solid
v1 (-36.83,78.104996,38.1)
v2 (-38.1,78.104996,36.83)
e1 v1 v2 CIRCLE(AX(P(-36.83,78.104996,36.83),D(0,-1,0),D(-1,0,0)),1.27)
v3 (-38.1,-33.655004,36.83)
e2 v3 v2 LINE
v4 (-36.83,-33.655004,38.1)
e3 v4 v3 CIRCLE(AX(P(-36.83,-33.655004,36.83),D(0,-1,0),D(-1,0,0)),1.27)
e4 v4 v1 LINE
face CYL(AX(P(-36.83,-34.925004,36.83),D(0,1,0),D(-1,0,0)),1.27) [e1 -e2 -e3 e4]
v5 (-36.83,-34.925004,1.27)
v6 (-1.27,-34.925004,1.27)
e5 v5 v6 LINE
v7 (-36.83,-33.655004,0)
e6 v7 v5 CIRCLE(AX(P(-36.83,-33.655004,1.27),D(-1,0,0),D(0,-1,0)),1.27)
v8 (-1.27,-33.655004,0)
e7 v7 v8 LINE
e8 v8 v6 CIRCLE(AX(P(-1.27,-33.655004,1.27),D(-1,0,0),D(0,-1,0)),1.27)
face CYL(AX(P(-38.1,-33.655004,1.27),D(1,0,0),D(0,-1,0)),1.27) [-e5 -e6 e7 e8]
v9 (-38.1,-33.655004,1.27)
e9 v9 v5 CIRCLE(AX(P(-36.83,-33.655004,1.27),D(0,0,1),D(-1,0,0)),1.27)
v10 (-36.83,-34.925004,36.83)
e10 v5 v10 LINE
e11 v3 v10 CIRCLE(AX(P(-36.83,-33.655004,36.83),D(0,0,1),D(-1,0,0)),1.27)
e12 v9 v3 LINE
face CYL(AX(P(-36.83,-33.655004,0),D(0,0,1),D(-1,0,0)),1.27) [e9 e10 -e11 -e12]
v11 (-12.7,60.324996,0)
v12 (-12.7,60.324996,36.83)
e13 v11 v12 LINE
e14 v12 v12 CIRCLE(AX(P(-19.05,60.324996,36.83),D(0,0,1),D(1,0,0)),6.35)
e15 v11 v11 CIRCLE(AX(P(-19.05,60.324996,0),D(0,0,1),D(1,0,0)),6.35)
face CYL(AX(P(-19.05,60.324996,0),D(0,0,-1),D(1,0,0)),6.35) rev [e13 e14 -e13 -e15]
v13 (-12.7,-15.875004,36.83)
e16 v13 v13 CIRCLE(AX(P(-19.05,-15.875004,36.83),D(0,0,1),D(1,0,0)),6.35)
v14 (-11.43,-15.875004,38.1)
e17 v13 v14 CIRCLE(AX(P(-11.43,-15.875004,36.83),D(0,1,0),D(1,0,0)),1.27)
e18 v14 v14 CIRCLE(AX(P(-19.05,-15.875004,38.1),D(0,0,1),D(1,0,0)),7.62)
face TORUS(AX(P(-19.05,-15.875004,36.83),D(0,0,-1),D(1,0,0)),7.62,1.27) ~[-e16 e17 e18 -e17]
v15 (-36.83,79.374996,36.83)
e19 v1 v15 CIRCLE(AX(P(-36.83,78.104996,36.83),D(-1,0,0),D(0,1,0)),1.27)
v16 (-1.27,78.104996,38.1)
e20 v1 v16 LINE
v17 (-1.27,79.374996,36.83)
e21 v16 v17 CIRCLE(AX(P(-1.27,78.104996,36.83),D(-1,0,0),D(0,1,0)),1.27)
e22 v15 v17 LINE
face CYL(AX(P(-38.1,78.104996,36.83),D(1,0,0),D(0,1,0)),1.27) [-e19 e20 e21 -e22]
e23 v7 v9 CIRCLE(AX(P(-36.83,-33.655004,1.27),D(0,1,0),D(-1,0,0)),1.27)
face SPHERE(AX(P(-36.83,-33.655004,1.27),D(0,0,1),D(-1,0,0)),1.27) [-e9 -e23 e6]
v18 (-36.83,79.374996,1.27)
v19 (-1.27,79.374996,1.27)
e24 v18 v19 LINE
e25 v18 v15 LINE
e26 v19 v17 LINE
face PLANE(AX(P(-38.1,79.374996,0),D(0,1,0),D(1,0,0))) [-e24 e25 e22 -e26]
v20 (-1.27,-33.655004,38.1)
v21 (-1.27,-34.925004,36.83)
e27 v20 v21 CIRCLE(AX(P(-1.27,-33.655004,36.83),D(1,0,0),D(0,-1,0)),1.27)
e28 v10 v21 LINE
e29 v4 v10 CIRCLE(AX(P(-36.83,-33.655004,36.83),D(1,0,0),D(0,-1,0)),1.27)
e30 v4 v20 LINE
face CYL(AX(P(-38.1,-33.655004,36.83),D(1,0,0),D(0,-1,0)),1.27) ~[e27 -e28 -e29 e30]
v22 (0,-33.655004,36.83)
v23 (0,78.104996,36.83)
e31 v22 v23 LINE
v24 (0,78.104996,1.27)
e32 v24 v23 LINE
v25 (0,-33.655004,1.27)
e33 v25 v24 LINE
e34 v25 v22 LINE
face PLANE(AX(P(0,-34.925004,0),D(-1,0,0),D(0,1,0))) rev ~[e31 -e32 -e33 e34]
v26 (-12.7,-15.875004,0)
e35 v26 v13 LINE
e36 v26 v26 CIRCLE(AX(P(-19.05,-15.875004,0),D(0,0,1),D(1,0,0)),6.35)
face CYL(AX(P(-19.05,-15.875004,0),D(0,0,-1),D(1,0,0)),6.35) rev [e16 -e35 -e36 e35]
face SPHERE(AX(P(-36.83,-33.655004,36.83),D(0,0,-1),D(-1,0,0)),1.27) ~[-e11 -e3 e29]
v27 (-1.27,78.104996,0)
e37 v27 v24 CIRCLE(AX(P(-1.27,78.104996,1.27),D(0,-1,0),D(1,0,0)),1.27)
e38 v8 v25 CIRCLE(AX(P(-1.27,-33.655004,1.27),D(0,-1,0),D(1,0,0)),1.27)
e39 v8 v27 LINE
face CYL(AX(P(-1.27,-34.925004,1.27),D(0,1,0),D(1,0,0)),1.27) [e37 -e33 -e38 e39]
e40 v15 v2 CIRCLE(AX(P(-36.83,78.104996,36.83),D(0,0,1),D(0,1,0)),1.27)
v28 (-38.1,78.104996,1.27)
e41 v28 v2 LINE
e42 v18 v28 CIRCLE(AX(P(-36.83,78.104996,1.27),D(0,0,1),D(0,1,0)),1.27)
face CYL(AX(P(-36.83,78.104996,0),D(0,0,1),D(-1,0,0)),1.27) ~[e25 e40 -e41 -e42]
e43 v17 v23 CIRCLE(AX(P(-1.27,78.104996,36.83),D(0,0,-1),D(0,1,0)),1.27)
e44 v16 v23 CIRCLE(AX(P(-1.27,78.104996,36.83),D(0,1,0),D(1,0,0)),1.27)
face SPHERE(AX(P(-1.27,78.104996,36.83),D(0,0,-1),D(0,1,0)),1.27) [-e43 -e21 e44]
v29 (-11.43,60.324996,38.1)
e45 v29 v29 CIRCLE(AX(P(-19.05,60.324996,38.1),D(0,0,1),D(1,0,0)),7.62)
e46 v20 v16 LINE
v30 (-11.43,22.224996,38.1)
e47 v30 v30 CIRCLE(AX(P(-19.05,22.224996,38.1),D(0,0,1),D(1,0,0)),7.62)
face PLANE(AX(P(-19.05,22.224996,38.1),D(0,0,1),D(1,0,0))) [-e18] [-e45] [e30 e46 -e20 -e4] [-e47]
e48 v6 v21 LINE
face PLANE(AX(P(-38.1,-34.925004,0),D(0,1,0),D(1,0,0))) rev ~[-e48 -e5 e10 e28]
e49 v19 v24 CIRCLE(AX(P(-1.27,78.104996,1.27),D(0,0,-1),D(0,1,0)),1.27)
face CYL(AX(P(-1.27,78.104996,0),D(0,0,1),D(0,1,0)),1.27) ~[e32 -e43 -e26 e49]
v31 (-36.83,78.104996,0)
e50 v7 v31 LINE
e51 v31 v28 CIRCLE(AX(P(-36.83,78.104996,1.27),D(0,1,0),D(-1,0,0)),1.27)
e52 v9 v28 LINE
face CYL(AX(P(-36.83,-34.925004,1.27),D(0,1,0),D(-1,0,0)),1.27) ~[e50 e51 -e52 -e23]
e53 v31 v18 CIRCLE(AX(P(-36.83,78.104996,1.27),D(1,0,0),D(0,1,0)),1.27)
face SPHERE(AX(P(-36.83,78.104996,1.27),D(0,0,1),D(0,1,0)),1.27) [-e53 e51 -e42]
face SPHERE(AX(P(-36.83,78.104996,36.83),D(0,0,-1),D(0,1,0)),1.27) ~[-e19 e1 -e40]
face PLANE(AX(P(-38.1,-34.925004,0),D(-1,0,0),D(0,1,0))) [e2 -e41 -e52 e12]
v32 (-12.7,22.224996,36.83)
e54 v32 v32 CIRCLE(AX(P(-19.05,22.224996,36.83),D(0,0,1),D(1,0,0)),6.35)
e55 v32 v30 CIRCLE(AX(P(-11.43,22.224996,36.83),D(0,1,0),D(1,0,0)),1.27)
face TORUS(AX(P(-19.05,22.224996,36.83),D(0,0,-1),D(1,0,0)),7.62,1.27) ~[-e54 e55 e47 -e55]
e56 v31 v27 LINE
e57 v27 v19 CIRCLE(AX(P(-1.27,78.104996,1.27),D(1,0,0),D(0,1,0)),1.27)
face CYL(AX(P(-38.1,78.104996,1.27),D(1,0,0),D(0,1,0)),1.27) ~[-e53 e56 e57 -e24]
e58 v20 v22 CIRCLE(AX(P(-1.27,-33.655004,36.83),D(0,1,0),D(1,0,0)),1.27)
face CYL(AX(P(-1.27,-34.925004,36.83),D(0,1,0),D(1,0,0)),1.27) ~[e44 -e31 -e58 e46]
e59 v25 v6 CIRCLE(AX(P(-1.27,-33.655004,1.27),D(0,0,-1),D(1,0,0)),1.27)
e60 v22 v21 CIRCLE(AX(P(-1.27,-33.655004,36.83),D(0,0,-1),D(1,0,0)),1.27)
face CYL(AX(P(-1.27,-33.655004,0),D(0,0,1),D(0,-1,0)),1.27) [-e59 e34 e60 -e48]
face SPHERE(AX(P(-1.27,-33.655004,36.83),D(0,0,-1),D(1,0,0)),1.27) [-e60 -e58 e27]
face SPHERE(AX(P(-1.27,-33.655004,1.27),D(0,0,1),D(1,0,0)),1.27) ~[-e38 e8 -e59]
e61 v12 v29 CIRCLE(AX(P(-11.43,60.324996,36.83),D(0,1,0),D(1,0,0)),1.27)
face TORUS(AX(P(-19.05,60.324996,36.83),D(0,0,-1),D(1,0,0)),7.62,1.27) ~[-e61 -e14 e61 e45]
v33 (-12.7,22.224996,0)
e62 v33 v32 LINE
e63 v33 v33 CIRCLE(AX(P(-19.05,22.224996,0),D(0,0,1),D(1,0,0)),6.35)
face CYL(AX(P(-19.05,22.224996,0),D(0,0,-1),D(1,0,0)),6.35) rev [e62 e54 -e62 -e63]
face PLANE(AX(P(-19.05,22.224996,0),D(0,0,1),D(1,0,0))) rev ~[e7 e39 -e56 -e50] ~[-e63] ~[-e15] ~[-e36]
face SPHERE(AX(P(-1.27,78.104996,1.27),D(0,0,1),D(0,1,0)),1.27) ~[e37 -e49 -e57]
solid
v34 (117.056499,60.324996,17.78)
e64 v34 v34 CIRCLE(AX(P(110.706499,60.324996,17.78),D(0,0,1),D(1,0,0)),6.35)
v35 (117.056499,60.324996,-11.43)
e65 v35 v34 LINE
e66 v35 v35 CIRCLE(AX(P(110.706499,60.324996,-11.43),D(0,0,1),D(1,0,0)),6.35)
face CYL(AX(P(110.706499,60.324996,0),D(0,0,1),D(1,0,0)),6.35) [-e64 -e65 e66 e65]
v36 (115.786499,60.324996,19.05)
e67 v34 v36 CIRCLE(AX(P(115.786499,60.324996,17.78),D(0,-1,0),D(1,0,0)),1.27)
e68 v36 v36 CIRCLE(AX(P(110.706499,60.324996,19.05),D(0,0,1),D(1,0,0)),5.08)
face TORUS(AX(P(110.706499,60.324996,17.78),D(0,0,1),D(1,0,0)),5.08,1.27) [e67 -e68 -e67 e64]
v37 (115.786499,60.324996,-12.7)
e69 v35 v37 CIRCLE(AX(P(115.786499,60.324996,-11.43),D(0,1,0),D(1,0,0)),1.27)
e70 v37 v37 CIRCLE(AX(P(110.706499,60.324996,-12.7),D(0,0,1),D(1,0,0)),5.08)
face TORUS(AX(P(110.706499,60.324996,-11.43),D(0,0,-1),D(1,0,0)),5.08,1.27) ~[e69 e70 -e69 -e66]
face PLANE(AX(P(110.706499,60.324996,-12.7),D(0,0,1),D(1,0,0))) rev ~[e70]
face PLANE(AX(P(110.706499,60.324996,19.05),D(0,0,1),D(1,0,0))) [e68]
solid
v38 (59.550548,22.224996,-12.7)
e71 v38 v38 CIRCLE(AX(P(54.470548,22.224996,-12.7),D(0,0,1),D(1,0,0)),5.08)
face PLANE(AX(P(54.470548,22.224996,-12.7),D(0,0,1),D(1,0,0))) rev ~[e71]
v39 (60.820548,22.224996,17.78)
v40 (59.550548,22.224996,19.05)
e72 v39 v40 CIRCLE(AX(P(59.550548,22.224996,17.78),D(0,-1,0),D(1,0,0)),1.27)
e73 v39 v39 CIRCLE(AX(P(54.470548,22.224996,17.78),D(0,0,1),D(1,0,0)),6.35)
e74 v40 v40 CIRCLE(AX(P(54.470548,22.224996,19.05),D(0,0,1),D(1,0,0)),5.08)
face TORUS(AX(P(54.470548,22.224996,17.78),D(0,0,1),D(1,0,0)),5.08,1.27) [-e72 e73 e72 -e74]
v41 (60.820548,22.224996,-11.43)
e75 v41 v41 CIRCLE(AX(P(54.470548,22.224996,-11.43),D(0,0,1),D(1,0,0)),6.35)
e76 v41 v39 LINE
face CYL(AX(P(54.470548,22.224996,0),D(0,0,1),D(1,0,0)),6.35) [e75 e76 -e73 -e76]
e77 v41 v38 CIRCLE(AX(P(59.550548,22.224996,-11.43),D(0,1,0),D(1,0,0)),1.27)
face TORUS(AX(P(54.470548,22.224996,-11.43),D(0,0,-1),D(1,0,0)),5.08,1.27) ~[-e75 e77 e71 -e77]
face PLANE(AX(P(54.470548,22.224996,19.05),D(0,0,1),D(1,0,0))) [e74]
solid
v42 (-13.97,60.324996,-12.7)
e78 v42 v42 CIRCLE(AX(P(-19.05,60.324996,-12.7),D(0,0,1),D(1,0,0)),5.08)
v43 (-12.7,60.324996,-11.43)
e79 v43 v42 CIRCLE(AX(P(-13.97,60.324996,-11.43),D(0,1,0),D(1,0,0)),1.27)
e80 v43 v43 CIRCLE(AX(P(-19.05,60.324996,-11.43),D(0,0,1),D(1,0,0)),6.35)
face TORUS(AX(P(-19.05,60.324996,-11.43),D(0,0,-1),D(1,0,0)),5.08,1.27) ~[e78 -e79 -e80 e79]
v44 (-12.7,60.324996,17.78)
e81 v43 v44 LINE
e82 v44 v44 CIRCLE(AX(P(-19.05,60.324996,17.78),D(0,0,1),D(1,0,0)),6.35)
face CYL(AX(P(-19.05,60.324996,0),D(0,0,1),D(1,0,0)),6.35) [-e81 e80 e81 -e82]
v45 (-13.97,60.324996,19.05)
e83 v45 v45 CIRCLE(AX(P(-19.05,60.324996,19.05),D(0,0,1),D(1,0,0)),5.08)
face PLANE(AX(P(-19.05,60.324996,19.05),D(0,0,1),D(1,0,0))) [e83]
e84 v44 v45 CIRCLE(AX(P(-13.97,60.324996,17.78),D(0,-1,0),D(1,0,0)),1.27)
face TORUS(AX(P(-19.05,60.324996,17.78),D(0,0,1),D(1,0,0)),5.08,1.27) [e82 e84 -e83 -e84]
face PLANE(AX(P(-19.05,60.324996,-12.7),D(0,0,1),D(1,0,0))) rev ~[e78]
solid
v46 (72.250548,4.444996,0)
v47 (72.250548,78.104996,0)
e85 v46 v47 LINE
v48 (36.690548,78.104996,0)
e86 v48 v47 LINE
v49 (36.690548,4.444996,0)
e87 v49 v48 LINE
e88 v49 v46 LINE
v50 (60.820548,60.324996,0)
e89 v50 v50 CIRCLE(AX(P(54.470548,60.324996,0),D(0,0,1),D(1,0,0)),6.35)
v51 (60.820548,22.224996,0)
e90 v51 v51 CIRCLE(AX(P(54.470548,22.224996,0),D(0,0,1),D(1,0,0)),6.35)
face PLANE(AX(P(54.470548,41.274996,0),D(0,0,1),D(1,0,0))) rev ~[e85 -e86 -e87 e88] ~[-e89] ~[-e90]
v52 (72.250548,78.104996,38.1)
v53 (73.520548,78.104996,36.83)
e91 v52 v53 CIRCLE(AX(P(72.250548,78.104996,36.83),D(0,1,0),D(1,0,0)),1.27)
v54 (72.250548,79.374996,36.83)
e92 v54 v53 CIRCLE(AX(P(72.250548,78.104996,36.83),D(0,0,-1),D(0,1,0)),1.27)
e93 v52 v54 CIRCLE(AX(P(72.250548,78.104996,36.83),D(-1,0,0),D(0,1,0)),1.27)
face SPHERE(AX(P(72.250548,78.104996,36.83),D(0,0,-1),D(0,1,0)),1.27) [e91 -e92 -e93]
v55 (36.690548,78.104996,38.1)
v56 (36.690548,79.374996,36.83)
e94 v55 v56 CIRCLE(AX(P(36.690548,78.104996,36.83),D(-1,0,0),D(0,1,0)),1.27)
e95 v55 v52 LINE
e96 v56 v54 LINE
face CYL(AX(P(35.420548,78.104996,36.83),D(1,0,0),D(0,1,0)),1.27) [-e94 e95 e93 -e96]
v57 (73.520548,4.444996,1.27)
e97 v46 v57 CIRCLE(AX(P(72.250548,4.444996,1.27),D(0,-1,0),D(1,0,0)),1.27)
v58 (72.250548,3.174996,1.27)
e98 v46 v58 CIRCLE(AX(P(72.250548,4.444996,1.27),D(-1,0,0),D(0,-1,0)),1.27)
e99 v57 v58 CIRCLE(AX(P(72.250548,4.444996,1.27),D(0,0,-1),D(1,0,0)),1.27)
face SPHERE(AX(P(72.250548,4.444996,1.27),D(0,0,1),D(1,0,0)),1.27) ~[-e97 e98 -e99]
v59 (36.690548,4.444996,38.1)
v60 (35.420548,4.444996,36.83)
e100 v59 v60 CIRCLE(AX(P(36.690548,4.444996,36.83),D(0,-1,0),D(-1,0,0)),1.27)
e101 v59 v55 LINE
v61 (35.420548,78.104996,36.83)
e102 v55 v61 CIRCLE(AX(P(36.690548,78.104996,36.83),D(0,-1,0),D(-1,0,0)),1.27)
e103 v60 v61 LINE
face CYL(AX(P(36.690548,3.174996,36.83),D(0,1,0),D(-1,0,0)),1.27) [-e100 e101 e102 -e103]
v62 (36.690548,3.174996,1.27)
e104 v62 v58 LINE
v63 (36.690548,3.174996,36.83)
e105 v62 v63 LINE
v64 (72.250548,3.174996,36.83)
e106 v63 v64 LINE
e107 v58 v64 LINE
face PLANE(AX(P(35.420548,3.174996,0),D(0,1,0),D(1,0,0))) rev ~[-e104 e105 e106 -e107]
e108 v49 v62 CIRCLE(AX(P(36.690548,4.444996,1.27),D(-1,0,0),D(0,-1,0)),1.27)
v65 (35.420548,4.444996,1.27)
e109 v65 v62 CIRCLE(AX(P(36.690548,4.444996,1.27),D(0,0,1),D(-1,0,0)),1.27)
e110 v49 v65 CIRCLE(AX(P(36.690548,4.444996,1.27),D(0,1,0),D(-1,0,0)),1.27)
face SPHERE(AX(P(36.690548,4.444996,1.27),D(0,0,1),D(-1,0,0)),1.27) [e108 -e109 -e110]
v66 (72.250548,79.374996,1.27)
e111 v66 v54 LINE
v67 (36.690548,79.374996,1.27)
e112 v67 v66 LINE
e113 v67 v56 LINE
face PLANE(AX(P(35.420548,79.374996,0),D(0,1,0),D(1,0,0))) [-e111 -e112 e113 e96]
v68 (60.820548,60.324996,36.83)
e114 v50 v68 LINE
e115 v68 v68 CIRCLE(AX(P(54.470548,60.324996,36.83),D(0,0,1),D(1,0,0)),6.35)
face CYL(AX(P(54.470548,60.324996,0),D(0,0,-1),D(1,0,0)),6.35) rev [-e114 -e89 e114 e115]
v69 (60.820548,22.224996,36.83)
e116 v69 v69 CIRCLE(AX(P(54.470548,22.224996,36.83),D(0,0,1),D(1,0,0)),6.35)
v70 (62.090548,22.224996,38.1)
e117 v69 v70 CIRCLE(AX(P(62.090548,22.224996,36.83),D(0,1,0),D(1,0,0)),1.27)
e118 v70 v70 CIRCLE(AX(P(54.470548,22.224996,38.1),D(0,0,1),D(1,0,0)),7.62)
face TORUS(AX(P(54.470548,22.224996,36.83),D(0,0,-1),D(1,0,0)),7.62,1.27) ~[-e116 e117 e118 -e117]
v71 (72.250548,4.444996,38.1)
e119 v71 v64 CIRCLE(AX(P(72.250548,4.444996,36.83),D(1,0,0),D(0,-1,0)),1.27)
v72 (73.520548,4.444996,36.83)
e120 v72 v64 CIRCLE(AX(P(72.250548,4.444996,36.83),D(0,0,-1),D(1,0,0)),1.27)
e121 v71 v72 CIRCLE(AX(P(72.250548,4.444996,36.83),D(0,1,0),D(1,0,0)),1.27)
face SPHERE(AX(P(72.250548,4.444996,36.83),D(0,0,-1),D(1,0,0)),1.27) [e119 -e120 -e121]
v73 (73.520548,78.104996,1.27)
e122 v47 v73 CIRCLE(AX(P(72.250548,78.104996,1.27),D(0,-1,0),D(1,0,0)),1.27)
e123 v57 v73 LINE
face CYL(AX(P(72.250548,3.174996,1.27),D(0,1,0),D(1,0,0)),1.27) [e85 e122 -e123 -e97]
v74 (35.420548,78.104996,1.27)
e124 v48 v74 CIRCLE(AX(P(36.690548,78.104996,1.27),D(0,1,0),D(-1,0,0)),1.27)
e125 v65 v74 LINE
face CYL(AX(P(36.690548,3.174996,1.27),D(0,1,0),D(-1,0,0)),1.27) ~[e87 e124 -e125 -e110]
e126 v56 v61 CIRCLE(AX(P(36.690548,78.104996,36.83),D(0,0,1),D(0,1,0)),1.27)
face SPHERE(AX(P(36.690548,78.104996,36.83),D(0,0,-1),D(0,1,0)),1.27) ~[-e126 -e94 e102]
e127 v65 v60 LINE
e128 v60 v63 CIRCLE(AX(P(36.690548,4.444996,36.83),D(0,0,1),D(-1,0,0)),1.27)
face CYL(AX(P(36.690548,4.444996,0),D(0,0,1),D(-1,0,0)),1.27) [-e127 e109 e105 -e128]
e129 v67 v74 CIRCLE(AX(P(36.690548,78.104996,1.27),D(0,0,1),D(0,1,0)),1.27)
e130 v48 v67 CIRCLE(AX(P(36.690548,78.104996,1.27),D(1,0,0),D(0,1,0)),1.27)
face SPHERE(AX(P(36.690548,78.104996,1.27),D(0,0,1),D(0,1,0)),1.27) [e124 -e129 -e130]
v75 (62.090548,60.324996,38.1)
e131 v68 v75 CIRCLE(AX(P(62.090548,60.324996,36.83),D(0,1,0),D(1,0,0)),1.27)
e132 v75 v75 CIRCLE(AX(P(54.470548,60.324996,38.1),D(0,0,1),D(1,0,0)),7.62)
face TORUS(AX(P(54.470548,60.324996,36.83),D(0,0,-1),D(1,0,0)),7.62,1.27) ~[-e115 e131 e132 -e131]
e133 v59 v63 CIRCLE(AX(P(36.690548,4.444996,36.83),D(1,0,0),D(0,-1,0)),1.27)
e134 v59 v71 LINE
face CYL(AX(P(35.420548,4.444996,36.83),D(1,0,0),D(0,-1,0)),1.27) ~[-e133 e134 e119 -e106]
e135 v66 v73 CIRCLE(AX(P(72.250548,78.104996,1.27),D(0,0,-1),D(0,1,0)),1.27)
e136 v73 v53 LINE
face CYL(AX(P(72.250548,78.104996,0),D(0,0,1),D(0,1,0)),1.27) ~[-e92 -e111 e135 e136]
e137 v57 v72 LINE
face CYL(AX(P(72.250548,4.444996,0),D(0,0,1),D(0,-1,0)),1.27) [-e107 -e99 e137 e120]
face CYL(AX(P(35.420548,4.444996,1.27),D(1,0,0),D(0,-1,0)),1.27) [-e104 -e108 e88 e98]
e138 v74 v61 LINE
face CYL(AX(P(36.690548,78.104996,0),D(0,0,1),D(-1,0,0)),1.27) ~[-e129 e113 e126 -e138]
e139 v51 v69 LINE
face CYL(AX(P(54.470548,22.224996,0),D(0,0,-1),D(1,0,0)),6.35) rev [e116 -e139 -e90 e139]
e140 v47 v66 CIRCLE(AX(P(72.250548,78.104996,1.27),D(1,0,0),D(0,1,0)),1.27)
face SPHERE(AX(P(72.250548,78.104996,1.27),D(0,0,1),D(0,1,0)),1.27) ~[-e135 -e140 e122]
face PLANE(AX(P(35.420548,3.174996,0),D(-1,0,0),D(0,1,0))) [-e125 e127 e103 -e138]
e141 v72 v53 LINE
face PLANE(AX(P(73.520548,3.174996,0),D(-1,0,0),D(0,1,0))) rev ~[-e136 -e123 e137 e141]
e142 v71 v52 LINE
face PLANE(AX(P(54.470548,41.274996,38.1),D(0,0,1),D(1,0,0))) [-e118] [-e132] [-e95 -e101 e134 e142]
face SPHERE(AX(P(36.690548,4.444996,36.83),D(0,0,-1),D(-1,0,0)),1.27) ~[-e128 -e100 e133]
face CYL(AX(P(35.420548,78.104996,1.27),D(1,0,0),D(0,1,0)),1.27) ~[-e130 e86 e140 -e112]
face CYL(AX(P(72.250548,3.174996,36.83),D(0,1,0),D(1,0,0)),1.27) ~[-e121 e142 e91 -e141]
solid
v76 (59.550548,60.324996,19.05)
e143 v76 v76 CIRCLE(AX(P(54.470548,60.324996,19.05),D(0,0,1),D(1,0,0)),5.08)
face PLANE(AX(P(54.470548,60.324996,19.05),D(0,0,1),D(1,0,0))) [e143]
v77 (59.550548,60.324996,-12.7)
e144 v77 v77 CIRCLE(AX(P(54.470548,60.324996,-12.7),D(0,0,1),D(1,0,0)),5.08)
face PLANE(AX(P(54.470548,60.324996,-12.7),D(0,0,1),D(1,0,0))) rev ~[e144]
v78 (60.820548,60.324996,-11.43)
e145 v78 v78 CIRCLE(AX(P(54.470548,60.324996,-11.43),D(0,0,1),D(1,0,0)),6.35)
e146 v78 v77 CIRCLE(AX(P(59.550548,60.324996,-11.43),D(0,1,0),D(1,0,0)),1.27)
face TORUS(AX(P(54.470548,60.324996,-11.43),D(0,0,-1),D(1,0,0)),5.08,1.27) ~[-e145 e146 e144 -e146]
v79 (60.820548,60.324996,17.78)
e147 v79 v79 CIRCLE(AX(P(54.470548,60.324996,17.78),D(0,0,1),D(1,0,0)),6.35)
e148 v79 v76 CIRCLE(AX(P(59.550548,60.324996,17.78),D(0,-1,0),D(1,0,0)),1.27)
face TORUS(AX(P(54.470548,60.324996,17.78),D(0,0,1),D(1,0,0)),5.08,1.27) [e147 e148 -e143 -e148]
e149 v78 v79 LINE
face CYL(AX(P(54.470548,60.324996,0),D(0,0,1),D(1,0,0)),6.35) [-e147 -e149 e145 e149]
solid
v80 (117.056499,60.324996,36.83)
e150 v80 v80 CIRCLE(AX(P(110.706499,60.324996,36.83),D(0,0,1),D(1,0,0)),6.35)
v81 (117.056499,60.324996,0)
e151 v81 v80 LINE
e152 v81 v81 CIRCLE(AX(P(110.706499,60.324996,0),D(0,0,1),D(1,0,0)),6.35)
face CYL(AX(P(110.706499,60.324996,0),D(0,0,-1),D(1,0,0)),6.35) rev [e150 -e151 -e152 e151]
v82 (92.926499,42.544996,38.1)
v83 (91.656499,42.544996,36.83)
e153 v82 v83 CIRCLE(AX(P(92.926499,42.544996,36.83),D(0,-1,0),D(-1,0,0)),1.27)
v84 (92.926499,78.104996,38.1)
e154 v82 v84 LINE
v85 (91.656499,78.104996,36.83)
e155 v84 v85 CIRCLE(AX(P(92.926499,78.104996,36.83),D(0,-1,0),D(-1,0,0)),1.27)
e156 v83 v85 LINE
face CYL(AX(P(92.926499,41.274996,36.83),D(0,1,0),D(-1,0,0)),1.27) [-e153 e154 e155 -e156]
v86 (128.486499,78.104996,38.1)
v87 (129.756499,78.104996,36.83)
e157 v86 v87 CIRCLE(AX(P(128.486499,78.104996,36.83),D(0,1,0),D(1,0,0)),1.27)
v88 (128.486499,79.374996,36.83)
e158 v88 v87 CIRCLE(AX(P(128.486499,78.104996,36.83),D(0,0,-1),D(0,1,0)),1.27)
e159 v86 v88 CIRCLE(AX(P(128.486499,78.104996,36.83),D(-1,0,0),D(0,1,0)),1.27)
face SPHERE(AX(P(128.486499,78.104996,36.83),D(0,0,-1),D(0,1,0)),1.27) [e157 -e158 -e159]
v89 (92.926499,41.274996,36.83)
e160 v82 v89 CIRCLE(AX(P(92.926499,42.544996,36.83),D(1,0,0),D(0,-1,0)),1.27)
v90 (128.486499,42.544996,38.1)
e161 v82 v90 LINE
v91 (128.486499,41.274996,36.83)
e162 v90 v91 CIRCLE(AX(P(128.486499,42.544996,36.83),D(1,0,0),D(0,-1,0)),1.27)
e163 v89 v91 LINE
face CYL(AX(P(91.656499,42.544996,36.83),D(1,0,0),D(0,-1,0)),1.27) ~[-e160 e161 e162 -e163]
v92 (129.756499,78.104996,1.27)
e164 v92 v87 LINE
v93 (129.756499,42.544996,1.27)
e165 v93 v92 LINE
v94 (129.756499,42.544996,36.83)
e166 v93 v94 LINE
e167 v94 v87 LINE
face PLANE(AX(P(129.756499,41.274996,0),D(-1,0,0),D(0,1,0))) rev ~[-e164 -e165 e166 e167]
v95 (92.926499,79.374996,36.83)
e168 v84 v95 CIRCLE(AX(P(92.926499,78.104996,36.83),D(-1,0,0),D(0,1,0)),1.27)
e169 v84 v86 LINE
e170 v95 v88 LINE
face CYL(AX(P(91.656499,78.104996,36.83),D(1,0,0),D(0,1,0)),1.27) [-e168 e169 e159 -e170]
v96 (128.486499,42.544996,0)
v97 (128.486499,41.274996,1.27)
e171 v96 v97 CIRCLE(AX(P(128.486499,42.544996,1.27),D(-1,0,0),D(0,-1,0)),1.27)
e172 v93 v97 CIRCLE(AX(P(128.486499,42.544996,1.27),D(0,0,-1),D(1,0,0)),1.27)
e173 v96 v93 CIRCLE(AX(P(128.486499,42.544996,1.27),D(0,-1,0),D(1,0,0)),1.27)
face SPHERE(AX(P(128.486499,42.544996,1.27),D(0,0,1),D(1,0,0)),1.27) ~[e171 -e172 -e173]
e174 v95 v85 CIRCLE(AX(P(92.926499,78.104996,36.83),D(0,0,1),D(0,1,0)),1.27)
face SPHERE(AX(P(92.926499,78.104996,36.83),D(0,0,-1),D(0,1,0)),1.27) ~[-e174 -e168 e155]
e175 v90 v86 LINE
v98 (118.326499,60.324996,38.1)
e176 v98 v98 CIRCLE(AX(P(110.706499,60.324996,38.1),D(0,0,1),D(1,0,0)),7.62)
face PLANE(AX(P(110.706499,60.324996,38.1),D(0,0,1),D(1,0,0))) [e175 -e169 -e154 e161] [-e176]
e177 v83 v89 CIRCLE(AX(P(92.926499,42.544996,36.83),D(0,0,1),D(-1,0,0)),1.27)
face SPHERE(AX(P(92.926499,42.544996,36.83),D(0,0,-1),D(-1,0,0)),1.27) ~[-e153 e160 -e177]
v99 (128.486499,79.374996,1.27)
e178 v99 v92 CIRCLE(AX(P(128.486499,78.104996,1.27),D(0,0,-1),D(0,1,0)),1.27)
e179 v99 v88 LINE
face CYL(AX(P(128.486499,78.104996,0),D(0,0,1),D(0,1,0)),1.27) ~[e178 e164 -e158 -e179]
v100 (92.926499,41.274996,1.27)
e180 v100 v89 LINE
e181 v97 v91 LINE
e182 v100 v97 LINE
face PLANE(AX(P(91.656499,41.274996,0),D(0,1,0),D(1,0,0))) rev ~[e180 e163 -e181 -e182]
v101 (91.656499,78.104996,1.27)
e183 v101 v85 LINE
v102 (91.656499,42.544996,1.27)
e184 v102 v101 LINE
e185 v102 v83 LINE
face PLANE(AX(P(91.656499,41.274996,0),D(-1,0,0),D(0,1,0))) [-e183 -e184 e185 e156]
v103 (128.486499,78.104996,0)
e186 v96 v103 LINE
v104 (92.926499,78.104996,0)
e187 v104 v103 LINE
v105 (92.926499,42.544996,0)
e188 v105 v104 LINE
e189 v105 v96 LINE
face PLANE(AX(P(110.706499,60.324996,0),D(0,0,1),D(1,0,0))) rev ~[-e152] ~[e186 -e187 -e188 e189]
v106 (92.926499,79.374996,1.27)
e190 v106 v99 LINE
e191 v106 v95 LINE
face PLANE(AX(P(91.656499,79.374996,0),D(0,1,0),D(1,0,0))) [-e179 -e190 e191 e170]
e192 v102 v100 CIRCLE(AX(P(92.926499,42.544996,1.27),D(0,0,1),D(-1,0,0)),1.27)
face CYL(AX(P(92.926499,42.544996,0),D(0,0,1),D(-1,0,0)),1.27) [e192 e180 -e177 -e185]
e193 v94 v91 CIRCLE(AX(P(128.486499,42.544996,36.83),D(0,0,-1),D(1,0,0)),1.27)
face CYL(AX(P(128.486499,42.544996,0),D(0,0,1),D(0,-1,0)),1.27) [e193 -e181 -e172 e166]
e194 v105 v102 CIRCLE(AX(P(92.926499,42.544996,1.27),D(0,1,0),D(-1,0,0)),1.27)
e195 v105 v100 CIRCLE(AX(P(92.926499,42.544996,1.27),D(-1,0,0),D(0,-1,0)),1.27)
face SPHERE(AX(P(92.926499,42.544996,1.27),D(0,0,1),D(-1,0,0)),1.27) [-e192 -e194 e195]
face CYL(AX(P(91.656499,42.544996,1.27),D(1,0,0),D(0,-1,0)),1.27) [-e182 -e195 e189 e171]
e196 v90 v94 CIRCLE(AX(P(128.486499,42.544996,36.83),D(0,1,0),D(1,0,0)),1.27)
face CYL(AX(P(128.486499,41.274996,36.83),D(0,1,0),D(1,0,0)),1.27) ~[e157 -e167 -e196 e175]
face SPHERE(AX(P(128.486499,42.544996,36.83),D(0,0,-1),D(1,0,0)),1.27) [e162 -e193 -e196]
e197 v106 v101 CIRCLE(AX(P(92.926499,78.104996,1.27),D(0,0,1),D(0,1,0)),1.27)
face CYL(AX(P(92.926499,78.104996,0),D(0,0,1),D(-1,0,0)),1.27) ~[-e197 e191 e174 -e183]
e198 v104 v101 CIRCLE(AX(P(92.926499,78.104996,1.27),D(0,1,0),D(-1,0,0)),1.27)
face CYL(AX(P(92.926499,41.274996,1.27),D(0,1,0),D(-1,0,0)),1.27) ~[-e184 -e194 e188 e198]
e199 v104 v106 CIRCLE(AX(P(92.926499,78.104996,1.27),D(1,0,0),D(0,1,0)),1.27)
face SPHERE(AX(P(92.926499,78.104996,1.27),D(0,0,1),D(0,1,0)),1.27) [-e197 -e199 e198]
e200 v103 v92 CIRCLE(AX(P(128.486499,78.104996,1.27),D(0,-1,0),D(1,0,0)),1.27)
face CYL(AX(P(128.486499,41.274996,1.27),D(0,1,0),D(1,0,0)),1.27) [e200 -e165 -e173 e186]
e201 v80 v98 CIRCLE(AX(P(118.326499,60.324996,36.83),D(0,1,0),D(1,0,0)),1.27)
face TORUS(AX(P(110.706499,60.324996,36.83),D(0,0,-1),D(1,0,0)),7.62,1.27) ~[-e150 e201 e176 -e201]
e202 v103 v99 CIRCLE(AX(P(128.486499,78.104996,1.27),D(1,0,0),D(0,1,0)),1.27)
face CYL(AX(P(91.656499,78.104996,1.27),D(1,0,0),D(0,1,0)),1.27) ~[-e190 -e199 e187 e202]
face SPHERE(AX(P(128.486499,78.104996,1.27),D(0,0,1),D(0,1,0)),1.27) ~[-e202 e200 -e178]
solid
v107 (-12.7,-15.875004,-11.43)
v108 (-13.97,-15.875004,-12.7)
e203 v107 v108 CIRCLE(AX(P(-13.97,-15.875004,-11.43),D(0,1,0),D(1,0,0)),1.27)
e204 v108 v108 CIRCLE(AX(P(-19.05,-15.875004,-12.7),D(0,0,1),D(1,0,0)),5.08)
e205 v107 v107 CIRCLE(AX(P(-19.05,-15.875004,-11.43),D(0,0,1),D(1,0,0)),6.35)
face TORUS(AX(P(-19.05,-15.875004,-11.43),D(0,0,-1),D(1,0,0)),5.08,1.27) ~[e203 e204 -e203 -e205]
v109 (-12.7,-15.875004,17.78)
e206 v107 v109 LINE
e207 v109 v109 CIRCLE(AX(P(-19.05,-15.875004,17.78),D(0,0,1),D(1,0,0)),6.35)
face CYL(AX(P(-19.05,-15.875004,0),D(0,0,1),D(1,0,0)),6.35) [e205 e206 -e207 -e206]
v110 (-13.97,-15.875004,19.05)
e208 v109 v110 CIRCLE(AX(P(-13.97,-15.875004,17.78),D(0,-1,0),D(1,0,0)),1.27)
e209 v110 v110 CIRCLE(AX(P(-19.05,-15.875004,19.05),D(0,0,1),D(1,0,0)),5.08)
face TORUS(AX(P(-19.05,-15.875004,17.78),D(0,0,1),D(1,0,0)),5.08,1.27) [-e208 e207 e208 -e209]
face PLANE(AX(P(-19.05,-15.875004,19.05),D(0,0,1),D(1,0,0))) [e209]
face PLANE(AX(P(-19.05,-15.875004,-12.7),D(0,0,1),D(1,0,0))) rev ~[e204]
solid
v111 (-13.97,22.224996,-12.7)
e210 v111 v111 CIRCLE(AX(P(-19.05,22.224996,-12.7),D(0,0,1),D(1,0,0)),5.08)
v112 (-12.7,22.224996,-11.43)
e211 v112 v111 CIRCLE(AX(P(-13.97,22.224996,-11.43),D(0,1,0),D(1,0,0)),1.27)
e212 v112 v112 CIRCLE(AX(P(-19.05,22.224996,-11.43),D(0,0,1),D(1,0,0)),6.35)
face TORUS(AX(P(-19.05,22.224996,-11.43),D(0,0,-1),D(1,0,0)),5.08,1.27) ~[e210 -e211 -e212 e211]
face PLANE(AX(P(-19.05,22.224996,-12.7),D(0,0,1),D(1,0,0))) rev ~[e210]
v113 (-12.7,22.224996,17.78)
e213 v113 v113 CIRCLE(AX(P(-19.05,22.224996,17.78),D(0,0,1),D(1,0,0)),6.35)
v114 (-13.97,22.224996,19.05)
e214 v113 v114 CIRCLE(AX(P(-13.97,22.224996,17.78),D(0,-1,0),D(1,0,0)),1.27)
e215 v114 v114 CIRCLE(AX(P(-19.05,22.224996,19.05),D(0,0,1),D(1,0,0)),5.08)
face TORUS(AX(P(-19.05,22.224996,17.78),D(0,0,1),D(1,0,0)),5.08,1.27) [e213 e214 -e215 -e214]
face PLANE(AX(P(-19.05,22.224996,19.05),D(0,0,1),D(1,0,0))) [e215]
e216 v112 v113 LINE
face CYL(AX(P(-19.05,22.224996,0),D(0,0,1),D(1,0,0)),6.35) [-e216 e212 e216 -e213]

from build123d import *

# Parameters (mm, degrees)
F0_W          = 38.1
F0_H          = 114.3
F0_R          = 6.35
F1_DEPTH      = 38.1
F0_H_2        = 76.2
F2_DEPTH      = 38.1
F0_H_3        = 38.1
F3_DEPTH      = 38.1
F4_DEPTH      = 19.05
F4_DEPTH_BACK = 12.7
F5_R          = 1.27
F5_2_R        = 1.27
F5_3_R        = 1.27
F5_4_R        = 1.27


with BuildPart() as f1:
    # F0 (on Top) → F1 (new body)
    with BuildSketch(Plane.XY):
        with Locations((-19.05, 22.224996)):
            Rectangle(F0_W, F0_H)
        with Locations((-19.05, -15.875004)):
            Circle(F0_R, mode=Mode.SUBTRACT)
        with Locations((-19.05, 22.224996)):
            Circle(F0_R, mode=Mode.SUBTRACT)
        with Locations((-19.05, 60.324996)):
            Circle(F0_R, mode=Mode.SUBTRACT)
    extrude(amount=F1_DEPTH)

    # F5
    f5_edges = [f1.edges().sort_by_distance(p)[0] for p in [
        (0, 79.374996, 19.05),
        (-38.1, 79.374996, 19.05),
        (-19.05, 79.374996, 0),
        (-19.05, 79.374996, 38.1),
        (-38.1, -34.925004, 19.05),
        (-38.1, 22.224996, 0),
        (-38.1, 22.224996, 38.1),
        (0, -34.925004, 19.05),
        (0, 22.224996, 0),
        (0, 22.224996, 38.1),
        (-19.05, -34.925004, 0),
        (-19.05, -34.925004, 38.1),
        (-25.4, -15.875004, 38.1),
        (-25.4, 22.224996, 38.1),
        (-25.4, 60.324996, 38.1),
    ]]
    fillet(f5_edges, radius=F5_R)


with BuildPart() as f2:
    # F0 (on Top) → F2 (new body)
    with BuildSketch(Plane.XY):
        with Locations((54.470548, 41.274996)):
            Rectangle(F0_W, F0_H_2)
        with Locations((54.470548, 22.224996)):
            Circle(F0_R, mode=Mode.SUBTRACT)
        with Locations((54.470548, 60.324996)):
            Circle(F0_R, mode=Mode.SUBTRACT)
    extrude(amount=F2_DEPTH)

    # F5#2
    f5_2_edges = [f2.edges().sort_by_distance(p)[0] for p in [
        (73.520548, 79.374996, 19.05),
        (35.420548, 79.374996, 19.05),
        (54.470548, 79.374996, 0),
        (54.470548, 79.374996, 38.1),
        (35.420548, 3.174996, 19.05),
        (35.420548, 41.274996, 0),
        (35.420548, 41.274996, 38.1),
        (73.520548, 3.174996, 19.05),
        (73.520548, 41.274996, 0),
        (73.520548, 41.274996, 38.1),
        (54.470548, 3.174996, 0),
        (54.470548, 3.174996, 38.1),
        (48.120548, 60.324996, 38.1),
        (48.120548, 22.224996, 38.1),
    ]]
    fillet(f5_2_edges, radius=F5_2_R)


with BuildPart() as f3:
    # F0 (on Top) → F3 (new body)
    with BuildSketch(Plane.XY):
        with Locations((110.706499, 60.324996)):
            Rectangle(F0_W, F0_H_3)
        with Locations((110.706499, 60.324996)):
            Circle(F0_R, mode=Mode.SUBTRACT)
    extrude(amount=F3_DEPTH)

    # F5#3
    f5_3_edges = [f3.edges().sort_by_distance(p)[0] for p in [
        (129.756499, 79.374996, 19.05),
        (91.656499, 79.374996, 19.05),
        (110.706499, 79.374996, 0),
        (110.706499, 79.374996, 38.1),
        (91.656499, 41.274996, 19.05),
        (91.656499, 60.324996, 0),
        (91.656499, 60.324996, 38.1),
        (129.756499, 41.274996, 19.05),
        (129.756499, 60.324996, 0),
        (129.756499, 60.324996, 38.1),
        (110.706499, 41.274996, 0),
        (110.706499, 41.274996, 38.1),
        (104.356499, 60.324996, 38.1),
    ]]
    fillet(f5_3_edges, radius=F5_3_R)


with BuildPart() as f4:
    # F0 (on Top) → F4 (new body, two sides)
    with BuildSketch(Plane.XY) as f4_sk:
        with Locations((-19.05, 60.324996)):
            Circle(F0_R)
        with Locations((-19.05, 22.224996)):
            Circle(F0_R)
        with Locations((-19.05, -15.875004)):
            Circle(F0_R)
        with Locations((54.470548, 22.224996)):
            Circle(F0_R)
        with Locations((54.470548, 60.324996)):
            Circle(F0_R)
        with Locations((110.706499, 60.324996)):
            Circle(F0_R)
    extrude(amount=F4_DEPTH)
    extrude(f4_sk.sketch, amount=-F4_DEPTH_BACK)

    # F5#4
    f5_4_edges = [f4.edges().sort_by_distance(p)[0] for p in [
        (104.356499, 60.324996, 19.05),
        (104.356499, 60.324996, -12.7),
        (48.120548, 60.324996, -12.7),
        (48.120548, 60.324996, 19.05),
        (48.120548, 22.224996, 19.05),
        (48.120548, 22.224996, -12.7),
        (-25.4, 60.324996, -12.7),
        (-25.4, 60.324996, 19.05),
        (-25.4, 22.224996, 19.05),
        (-25.4, 22.224996, -12.7),
        (-25.4, -15.875004, -12.7),
        (-25.4, -15.875004, 19.05),
    ]]
    fillet(f5_4_edges, radius=F5_4_R)


solid = Compound([f1.part, f2.part, f3.part, f4.part])
